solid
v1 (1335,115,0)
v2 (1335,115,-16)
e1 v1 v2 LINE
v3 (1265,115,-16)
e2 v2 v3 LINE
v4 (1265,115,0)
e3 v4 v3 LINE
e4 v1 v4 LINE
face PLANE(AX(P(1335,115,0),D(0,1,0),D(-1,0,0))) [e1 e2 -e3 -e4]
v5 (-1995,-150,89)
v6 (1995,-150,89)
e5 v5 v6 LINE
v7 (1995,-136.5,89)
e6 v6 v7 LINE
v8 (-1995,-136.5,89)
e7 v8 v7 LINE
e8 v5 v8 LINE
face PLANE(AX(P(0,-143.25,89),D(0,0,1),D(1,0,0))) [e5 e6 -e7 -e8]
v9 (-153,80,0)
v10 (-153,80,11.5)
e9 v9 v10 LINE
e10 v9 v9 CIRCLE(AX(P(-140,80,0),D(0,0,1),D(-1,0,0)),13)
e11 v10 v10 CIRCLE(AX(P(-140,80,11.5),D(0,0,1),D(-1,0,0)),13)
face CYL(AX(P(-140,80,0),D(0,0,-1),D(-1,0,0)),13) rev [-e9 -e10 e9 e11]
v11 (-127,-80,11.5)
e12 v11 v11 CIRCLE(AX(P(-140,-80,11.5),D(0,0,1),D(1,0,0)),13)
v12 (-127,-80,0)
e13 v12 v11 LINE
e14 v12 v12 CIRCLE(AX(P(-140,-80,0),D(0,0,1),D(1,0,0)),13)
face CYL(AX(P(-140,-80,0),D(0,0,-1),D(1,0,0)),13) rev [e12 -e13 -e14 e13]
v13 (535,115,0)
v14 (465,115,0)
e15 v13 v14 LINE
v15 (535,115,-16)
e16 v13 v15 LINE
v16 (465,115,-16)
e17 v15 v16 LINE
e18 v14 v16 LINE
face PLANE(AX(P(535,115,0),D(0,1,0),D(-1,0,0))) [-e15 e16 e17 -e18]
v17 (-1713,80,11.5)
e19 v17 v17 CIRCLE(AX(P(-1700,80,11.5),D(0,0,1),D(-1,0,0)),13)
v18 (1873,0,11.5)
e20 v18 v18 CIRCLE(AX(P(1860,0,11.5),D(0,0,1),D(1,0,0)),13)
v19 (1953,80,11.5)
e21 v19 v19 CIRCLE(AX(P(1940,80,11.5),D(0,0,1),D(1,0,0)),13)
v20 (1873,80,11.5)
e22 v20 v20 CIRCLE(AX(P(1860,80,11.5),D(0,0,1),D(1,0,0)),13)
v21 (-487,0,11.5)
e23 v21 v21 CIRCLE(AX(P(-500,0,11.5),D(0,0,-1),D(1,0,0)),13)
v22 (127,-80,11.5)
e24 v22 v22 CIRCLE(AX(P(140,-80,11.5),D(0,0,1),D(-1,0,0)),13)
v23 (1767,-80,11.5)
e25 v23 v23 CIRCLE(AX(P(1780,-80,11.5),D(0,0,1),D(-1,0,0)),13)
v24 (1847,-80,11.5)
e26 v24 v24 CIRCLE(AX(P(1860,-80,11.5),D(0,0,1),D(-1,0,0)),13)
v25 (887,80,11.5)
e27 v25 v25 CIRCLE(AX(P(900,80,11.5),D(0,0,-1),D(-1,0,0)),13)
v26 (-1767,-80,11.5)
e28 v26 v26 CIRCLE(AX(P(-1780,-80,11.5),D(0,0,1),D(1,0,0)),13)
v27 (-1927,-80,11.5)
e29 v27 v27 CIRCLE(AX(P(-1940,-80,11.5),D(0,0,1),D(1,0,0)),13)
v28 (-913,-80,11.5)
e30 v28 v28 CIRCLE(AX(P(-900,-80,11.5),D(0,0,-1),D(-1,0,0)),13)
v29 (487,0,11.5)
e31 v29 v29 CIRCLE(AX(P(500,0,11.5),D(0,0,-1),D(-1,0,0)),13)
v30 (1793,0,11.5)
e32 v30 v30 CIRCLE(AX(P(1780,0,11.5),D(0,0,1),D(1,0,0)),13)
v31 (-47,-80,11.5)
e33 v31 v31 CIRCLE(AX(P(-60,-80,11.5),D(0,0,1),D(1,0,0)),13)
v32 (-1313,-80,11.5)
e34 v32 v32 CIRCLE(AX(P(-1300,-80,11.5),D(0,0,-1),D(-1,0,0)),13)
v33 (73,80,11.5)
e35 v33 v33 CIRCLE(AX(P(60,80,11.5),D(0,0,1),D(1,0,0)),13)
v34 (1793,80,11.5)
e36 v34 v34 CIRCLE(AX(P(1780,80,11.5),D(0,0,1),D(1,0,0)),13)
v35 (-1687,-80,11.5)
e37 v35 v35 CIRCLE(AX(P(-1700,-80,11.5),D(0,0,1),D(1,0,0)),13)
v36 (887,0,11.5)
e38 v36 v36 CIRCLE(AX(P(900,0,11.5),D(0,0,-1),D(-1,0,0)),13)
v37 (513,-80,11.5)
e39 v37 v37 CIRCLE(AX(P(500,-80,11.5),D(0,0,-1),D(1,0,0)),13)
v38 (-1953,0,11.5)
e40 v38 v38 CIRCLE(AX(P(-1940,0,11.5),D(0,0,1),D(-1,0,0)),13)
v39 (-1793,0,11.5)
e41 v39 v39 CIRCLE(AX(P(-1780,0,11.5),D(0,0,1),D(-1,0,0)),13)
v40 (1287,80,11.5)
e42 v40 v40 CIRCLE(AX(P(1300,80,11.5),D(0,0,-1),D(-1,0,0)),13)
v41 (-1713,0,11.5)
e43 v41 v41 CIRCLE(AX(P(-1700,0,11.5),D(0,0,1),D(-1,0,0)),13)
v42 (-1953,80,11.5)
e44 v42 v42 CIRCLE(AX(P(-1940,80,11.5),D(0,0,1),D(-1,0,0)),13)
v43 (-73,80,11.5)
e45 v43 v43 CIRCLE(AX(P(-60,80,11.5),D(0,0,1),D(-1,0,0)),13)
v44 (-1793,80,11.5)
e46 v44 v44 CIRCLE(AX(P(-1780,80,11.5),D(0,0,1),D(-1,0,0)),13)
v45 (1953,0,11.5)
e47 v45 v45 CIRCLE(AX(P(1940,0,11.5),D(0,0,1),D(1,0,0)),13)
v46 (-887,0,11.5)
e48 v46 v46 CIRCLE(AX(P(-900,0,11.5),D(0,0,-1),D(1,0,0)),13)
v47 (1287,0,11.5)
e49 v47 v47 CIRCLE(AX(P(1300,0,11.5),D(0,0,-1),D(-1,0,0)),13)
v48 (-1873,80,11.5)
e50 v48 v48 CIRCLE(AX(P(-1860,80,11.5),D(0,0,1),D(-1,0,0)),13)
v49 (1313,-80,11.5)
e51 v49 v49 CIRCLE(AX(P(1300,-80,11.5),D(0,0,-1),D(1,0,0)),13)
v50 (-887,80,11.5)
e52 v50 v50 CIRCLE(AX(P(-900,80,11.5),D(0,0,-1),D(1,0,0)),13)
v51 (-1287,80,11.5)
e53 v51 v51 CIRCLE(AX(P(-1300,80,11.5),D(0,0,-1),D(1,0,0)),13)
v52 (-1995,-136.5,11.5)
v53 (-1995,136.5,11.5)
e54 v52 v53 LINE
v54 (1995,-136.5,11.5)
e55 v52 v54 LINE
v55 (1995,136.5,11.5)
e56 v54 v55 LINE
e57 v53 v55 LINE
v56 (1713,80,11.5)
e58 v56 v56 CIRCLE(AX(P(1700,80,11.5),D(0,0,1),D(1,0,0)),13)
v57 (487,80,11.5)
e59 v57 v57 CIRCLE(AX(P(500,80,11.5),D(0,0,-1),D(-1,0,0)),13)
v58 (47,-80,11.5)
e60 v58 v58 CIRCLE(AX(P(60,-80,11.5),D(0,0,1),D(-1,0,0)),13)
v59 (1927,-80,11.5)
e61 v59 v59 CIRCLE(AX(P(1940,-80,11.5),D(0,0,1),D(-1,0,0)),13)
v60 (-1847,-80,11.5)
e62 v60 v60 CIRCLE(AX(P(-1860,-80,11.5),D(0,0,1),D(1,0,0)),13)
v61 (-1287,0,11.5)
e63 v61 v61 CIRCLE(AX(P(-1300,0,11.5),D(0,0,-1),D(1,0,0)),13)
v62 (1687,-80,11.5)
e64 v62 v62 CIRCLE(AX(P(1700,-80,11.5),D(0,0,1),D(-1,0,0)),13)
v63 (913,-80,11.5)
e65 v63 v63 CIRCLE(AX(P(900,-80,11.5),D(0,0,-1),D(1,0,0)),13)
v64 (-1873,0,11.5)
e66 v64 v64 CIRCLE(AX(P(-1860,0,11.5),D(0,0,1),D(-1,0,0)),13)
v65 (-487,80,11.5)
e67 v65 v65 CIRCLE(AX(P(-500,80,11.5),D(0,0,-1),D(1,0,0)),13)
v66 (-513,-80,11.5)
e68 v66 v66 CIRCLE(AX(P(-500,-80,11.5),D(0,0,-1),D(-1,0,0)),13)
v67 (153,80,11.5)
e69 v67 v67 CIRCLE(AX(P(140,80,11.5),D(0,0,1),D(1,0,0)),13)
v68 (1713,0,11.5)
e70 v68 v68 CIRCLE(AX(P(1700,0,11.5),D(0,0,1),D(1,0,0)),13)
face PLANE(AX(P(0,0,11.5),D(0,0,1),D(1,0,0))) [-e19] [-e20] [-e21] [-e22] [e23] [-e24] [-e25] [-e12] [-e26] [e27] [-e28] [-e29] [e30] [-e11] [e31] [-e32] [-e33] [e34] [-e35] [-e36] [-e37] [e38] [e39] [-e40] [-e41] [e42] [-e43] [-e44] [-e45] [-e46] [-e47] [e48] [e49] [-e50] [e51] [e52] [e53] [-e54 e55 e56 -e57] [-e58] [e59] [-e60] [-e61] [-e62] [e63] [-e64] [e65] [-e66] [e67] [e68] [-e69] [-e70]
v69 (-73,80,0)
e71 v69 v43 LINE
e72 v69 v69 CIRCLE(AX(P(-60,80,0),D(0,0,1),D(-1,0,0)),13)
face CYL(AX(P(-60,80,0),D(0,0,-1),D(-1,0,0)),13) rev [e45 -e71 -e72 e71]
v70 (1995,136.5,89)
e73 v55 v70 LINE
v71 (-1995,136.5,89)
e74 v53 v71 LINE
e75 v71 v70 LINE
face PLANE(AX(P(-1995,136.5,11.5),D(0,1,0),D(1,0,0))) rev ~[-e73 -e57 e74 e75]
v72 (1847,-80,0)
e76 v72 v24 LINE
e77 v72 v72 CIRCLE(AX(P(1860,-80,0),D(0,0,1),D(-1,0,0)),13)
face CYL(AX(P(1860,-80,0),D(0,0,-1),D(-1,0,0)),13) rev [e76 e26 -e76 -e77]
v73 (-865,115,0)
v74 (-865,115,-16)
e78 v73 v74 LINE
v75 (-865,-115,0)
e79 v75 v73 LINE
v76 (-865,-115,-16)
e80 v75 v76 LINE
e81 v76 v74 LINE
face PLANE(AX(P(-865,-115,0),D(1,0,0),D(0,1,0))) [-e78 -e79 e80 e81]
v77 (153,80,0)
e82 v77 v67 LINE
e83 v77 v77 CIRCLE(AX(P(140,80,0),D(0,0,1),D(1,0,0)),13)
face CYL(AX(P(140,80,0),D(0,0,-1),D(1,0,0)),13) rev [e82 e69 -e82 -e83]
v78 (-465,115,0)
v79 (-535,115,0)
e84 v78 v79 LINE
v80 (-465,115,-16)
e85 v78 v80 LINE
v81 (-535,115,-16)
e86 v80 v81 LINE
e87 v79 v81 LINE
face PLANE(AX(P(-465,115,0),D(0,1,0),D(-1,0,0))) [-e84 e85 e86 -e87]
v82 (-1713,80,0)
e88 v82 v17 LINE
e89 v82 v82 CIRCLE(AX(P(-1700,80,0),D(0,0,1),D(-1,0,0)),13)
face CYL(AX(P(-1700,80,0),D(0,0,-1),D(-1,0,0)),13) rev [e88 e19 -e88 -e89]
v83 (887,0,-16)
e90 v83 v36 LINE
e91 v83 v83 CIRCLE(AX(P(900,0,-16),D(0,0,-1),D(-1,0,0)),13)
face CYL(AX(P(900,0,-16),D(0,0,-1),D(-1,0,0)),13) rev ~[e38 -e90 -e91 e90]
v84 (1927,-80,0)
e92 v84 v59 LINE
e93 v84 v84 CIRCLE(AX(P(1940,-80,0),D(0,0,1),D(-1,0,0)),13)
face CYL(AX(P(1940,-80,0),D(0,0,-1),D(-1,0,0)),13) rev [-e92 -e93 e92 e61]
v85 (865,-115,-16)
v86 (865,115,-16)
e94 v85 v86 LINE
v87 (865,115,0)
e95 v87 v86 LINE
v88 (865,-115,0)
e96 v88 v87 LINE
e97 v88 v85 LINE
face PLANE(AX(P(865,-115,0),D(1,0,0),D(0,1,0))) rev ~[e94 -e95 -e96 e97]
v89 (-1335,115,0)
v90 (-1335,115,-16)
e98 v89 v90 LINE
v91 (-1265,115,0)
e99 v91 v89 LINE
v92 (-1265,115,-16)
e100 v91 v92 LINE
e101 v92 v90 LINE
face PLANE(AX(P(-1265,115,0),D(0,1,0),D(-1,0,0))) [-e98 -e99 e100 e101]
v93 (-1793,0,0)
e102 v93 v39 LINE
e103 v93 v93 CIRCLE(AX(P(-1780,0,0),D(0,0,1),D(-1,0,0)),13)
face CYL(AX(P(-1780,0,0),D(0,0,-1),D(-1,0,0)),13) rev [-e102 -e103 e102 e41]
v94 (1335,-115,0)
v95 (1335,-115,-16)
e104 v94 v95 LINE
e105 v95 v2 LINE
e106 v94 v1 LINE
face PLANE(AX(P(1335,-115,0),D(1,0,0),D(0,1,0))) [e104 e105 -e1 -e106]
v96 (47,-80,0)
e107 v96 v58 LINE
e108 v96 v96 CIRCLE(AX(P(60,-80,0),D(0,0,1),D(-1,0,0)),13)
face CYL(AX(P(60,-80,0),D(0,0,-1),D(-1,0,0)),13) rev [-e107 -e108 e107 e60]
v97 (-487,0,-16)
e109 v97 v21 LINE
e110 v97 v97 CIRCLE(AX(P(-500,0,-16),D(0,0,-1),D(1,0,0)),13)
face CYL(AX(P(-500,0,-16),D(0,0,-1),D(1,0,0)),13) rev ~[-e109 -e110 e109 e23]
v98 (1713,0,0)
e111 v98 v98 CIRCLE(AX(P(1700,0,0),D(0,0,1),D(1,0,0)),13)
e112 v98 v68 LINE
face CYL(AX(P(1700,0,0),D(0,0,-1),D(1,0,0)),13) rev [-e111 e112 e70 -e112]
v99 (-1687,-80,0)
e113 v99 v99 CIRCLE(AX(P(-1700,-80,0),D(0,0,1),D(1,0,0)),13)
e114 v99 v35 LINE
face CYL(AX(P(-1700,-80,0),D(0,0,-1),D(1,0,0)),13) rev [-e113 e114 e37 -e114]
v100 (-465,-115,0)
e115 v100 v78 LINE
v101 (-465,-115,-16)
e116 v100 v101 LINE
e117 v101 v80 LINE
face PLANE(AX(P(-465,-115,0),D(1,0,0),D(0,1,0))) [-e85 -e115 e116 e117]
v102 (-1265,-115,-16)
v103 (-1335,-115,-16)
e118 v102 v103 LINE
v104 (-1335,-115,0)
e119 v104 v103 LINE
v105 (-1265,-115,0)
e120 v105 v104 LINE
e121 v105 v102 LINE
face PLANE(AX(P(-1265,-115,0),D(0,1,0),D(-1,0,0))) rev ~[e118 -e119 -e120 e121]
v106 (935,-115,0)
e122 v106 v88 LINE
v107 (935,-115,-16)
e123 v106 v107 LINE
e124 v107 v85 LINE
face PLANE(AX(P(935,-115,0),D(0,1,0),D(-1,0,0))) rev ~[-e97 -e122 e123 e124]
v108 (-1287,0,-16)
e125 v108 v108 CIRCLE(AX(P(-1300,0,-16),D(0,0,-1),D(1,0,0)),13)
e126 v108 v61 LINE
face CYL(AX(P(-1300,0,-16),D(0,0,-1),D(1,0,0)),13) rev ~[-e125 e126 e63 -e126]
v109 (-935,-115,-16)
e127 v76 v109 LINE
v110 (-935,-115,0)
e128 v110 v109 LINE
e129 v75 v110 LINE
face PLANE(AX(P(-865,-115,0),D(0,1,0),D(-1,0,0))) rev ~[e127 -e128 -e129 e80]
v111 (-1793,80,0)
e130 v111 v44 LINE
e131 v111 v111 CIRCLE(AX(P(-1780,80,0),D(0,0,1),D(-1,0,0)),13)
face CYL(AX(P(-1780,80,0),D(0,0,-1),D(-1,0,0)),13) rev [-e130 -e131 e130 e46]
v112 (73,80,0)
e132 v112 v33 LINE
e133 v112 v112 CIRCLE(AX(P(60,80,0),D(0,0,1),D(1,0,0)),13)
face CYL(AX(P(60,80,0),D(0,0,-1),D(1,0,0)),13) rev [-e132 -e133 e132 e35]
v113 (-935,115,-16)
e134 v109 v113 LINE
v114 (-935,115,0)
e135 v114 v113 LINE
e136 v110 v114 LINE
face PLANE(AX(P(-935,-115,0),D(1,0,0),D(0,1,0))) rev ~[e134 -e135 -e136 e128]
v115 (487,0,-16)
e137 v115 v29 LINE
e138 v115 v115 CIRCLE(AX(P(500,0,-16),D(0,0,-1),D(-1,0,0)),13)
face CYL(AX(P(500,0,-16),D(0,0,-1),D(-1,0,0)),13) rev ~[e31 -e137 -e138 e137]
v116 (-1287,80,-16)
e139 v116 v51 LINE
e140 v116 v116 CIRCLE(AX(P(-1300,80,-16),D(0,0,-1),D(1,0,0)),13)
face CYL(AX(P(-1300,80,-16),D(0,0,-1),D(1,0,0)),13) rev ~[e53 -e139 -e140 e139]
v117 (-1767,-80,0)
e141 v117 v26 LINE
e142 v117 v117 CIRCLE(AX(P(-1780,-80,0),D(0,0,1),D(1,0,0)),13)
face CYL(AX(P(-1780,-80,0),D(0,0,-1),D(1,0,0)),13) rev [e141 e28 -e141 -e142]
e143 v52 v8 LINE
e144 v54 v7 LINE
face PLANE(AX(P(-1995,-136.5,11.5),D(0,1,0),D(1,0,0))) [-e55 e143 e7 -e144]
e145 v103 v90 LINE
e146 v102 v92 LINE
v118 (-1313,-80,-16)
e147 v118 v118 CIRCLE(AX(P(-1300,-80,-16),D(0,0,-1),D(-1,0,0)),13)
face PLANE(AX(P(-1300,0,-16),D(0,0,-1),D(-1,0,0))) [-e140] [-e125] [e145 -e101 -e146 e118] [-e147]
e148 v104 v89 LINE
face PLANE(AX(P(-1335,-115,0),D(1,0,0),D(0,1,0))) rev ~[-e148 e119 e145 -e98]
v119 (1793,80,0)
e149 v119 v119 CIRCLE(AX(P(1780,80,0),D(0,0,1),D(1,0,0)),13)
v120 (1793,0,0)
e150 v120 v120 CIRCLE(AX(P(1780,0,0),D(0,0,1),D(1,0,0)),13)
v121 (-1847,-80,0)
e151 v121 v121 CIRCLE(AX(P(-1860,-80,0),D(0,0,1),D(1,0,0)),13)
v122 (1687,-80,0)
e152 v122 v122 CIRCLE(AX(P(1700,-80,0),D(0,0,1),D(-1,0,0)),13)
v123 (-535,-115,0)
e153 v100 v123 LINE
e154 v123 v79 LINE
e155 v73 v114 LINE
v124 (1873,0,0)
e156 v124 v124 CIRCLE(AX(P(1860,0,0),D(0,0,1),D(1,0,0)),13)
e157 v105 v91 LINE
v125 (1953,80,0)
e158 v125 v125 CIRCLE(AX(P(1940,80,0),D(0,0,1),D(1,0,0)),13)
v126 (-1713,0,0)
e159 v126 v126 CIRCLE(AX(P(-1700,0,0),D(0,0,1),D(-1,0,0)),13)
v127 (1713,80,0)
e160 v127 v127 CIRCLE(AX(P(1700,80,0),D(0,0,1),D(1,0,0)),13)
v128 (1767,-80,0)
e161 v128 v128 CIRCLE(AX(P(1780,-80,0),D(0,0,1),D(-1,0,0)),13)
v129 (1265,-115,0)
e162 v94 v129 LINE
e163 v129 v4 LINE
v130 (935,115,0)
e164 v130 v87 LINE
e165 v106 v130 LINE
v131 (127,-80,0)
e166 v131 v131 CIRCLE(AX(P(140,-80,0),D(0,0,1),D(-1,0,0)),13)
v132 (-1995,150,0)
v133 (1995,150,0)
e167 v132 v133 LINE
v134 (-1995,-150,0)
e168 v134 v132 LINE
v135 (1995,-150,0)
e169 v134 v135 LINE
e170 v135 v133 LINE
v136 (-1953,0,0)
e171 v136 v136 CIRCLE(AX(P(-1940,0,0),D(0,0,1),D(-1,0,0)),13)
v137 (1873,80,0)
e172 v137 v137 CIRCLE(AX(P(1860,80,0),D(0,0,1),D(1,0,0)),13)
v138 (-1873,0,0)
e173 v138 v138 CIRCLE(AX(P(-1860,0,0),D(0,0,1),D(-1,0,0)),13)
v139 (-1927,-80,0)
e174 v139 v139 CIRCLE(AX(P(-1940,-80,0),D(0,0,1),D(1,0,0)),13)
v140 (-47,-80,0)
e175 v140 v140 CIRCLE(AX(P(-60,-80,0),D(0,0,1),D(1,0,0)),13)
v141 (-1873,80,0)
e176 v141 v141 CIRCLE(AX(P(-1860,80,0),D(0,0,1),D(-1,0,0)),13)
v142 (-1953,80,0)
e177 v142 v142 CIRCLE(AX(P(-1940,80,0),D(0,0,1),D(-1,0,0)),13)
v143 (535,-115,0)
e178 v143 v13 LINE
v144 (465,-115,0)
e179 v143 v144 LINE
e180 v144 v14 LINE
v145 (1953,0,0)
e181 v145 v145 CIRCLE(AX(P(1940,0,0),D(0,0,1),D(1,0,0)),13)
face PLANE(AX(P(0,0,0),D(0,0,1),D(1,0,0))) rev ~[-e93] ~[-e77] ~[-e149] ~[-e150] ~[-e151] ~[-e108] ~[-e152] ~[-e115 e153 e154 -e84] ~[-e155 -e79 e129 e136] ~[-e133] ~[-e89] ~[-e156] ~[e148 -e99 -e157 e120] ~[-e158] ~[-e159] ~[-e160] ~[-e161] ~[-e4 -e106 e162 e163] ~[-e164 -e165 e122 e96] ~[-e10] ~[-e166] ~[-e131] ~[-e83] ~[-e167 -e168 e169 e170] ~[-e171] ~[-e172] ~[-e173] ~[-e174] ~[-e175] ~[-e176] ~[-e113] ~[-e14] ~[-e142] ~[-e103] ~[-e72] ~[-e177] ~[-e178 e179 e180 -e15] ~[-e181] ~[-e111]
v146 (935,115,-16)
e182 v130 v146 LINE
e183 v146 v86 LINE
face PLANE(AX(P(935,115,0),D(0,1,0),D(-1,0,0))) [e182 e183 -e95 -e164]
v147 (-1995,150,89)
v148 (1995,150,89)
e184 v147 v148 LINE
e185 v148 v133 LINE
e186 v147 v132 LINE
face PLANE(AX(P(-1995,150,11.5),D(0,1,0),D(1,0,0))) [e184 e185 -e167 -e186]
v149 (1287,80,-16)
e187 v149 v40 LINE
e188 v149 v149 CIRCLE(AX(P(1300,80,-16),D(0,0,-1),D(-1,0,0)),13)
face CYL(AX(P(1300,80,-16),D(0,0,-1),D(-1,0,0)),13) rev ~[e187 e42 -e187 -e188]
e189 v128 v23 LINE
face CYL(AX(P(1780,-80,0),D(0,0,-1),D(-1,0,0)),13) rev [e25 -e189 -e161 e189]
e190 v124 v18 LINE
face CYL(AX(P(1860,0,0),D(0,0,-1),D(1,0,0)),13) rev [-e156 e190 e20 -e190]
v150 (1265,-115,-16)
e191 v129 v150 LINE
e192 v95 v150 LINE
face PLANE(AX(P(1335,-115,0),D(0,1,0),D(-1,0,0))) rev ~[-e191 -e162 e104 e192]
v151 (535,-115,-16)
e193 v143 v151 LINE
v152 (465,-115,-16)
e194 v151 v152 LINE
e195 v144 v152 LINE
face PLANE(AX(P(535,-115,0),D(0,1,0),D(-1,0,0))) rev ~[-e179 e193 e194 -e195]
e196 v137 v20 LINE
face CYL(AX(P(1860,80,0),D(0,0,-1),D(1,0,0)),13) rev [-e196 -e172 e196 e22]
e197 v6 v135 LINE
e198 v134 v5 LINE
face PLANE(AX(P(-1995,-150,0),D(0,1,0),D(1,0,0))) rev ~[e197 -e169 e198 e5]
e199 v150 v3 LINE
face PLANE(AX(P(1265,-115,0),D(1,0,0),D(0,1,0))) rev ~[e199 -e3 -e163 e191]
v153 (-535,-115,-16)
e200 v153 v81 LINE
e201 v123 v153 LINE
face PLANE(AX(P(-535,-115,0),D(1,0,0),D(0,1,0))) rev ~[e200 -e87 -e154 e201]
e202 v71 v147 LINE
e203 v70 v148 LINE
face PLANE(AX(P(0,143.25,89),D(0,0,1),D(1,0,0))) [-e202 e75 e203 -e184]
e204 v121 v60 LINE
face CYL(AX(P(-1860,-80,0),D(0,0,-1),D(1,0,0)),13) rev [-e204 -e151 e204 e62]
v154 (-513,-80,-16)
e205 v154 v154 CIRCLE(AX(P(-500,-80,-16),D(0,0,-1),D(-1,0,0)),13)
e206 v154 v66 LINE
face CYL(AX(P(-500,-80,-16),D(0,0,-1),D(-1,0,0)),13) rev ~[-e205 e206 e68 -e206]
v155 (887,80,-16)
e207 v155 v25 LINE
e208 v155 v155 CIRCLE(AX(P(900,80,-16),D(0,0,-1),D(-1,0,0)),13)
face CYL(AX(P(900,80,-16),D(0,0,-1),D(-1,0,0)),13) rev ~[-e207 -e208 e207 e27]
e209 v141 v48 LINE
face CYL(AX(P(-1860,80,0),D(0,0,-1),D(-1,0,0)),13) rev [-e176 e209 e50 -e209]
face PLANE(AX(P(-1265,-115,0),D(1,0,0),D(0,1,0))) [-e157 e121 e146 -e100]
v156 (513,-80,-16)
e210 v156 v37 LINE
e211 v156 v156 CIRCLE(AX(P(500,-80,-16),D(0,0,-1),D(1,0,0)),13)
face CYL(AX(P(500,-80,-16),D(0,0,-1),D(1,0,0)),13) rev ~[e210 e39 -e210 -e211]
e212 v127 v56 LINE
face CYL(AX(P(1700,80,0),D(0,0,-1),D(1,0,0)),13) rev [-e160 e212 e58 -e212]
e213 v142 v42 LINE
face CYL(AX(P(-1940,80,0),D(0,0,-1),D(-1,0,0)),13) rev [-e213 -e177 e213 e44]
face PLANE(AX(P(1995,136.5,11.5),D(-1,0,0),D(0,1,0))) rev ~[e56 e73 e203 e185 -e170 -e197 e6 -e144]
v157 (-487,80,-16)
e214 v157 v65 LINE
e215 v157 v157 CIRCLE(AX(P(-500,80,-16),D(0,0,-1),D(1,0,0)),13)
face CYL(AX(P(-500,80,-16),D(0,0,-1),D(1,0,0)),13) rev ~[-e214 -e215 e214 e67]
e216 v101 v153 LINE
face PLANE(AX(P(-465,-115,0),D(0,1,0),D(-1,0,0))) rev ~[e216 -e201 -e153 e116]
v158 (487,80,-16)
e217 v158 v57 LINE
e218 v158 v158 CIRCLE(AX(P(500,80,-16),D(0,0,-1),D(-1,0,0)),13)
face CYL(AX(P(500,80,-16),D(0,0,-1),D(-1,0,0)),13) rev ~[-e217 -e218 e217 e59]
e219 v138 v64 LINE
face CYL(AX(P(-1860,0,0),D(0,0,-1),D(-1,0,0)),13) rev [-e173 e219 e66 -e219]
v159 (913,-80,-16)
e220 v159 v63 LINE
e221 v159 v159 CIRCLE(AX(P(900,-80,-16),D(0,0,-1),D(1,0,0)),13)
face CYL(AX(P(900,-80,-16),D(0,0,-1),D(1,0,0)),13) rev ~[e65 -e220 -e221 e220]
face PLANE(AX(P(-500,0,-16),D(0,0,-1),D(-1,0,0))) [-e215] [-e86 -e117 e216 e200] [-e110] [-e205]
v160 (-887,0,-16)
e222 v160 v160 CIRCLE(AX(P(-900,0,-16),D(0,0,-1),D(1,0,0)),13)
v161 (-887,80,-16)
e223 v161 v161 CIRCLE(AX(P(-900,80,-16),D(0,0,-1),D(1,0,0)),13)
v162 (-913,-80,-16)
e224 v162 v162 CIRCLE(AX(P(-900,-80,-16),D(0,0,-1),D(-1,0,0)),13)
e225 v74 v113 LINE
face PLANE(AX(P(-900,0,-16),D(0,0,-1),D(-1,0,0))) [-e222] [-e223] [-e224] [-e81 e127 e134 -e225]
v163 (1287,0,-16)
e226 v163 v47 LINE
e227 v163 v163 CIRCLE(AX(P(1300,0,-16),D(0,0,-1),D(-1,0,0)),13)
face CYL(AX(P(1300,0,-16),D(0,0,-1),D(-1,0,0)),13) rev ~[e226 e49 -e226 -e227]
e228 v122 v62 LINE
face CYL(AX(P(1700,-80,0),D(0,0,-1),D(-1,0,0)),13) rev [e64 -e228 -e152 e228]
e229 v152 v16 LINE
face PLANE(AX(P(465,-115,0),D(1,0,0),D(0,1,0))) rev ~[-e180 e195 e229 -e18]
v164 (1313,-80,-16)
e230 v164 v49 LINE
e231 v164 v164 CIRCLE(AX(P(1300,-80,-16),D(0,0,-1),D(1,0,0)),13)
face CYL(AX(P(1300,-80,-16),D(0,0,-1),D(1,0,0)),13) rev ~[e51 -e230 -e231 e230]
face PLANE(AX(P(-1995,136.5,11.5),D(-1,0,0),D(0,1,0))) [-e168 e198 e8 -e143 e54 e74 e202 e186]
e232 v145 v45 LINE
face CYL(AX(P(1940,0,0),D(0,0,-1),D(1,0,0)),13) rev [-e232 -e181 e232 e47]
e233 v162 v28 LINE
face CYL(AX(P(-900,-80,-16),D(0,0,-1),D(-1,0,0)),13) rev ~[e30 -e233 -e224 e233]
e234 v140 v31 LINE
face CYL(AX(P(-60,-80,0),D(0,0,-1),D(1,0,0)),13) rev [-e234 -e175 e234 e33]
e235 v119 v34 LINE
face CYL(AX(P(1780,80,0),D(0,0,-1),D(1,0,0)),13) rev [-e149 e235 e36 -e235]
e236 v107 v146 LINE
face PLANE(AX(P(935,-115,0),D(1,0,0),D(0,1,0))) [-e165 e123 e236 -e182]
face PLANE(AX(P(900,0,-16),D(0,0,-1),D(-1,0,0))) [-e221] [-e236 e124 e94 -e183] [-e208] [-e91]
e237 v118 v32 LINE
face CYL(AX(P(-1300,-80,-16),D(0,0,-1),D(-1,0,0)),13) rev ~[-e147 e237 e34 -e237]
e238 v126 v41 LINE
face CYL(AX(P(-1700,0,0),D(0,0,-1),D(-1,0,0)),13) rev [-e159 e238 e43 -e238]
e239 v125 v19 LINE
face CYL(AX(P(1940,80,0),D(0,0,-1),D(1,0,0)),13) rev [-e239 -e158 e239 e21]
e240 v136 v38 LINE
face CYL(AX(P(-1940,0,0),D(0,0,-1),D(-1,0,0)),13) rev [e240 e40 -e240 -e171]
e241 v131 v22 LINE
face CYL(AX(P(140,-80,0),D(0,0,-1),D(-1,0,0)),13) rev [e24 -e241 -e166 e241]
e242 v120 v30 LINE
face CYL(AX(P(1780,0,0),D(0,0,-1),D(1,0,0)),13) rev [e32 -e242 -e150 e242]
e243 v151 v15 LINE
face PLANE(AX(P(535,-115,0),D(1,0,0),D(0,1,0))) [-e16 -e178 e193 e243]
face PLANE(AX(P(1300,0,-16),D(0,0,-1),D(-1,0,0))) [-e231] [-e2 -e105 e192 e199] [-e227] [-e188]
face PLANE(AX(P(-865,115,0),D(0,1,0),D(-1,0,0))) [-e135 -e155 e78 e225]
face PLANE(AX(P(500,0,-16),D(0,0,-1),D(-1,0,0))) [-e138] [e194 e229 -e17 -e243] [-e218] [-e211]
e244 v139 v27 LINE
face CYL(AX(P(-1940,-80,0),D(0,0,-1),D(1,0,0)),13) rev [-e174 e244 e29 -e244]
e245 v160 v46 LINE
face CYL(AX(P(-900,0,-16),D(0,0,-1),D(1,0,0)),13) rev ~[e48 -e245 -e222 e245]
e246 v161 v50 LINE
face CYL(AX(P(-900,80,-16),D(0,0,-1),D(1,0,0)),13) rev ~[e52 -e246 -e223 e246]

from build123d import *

# Parameters (mm, degrees)
SKETCH_1_W          = 3990
SKETCH_1_H          = 300
SKETCH_1_R          = 13
EXTRUDE_756_DEPTH   = 11.5
SKETCH_2_W          = 3990
SKETCH_2_H          = 13.5
EXTRUDE_1_DEPTH     = 77.5
SKETCH_3_W          = 70
SKETCH_3_H          = 230
EXTRUDE_2_DEPTH     = 16
SKETCH_4_R          = 13
CUT_EXTRUDE_1_DEPTH = 2004.38463606


with BuildPart() as part:
    # 草图1 → Extrude 756 (new body)
    with BuildSketch(Plane.XY):
        Rectangle(SKETCH_1_W, SKETCH_1_H)
        with Locations((1940, 0)):
            Circle(SKETCH_1_R, mode=Mode.SUBTRACT)
        with Locations((1860, 0)):
            Circle(SKETCH_1_R, mode=Mode.SUBTRACT)
        with Locations((1780, 0)):
            Circle(SKETCH_1_R, mode=Mode.SUBTRACT)
        with Locations((1700, 0)):
            Circle(SKETCH_1_R, mode=Mode.SUBTRACT)
        with Locations((1700, 80)):
            Circle(SKETCH_1_R, mode=Mode.SUBTRACT)
        with Locations((1780, 80)):
            Circle(SKETCH_1_R, mode=Mode.SUBTRACT)
        with Locations((1860, 80)):
            Circle(SKETCH_1_R, mode=Mode.SUBTRACT)
        with Locations((1940, 80)):
            Circle(SKETCH_1_R, mode=Mode.SUBTRACT)
        with Locations(Location((1940, -80, 0), (0, 0, 180))):
            Circle(SKETCH_1_R, mode=Mode.SUBTRACT)
        with Locations(Location((1860, -80, 0), (0, 0, 180))):
            Circle(SKETCH_1_R, mode=Mode.SUBTRACT)
        with Locations(Location((1780, -80, 0), (0, 0, 180))):
            Circle(SKETCH_1_R, mode=Mode.SUBTRACT)
        with Locations(Location((1700, -80, 0), (0, 0, 180))):
            Circle(SKETCH_1_R, mode=Mode.SUBTRACT)
        with Locations((-1700, -80)):
            Circle(SKETCH_1_R, mode=Mode.SUBTRACT)
        with Locations((-1780, -80)):
            Circle(SKETCH_1_R, mode=Mode.SUBTRACT)
        with Locations((-1860, -80)):
            Circle(SKETCH_1_R, mode=Mode.SUBTRACT)
        with Locations((-1940, -80)):
            Circle(SKETCH_1_R, mode=Mode.SUBTRACT)
        with Locations(Location((-1940, 80, 0), (0, 0, 180))):
            Circle(SKETCH_1_R, mode=Mode.SUBTRACT)
        with Locations(Location((-1860, 80, 0), (0, 0, 180))):
            Circle(SKETCH_1_R, mode=Mode.SUBTRACT)
        with Locations(Location((-1780, 80, 0), (0, 0, 180))):
            Circle(SKETCH_1_R, mode=Mode.SUBTRACT)
        with Locations(Location((-1700, 80, 0), (0, 0, 180))):
            Circle(SKETCH_1_R, mode=Mode.SUBTRACT)
        with Locations(Location((-1700, 0, 0), (0, 0, 180))):
            Circle(SKETCH_1_R, mode=Mode.SUBTRACT)
        with Locations(Location((-1780, 0, 0), (0, 0, 180))):
            Circle(SKETCH_1_R, mode=Mode.SUBTRACT)
        with Locations(Location((-1860, 0, 0), (0, 0, 180))):
            Circle(SKETCH_1_R, mode=Mode.SUBTRACT)
        with Locations(Location((-1940, 0, 0), (0, 0, 180))):
            Circle(SKETCH_1_R, mode=Mode.SUBTRACT)
        with Locations((60, 80)):
            Circle(SKETCH_1_R, mode=Mode.SUBTRACT)
        with Locations((140, 80)):
            Circle(SKETCH_1_R, mode=Mode.SUBTRACT)
        with Locations(Location((140, -80, 0), (0, 0, 180))):
            Circle(SKETCH_1_R, mode=Mode.SUBTRACT)
        with Locations(Location((60, -80, 0), (0, 0, 180))):
            Circle(SKETCH_1_R, mode=Mode.SUBTRACT)
        with Locations((-60, -80)):
            Circle(SKETCH_1_R, mode=Mode.SUBTRACT)
        with Locations((-140, -80)):
            Circle(SKETCH_1_R, mode=Mode.SUBTRACT)
        with Locations(Location((-140, 80, 0), (0, 0, 180))):
            Circle(SKETCH_1_R, mode=Mode.SUBTRACT)
        with Locations(Location((-60, 80, 0), (0, 0, 180))):
            Circle(SKETCH_1_R, mode=Mode.SUBTRACT)
    extrude(amount=EXTRUDE_756_DEPTH)

    # 草图2 → 凸台-拉伸1 (add)
    with BuildSketch(Plane.XY.offset(11.5)):
        with Locations((0, 143.25)):
            Rectangle(SKETCH_2_W, SKETCH_2_H)
        with Locations((0, -143.25)):
            Rectangle(SKETCH_2_W, SKETCH_2_H)
    extrude(amount=EXTRUDE_1_DEPTH)

    # 草图3 → 凸台-拉伸2 (add)
    with BuildSketch(Plane(origin=(0, 0, 0), x_dir=(-1, 0, 0), z_dir=(0, 0, -1))):
        with Locations((-1300, 0)):
            Rectangle(SKETCH_3_W, SKETCH_3_H)
        with Locations((-900, 0)):
            Rectangle(SKETCH_3_W, SKETCH_3_H)
        with Locations((-500, 0)):
            Rectangle(SKETCH_3_W, SKETCH_3_H)
        with Locations((500, 0)):
            Rectangle(SKETCH_3_W, SKETCH_3_H)
        with Locations((900, 0)):
            Rectangle(SKETCH_3_W, SKETCH_3_H)
        with Locations((1300, 0)):
            Rectangle(SKETCH_3_W, SKETCH_3_H)
    extrude(amount=EXTRUDE_2_DEPTH)

    # 草图4 → 切除-拉伸1 (cut, through all)
    with BuildSketch(Plane(origin=(0, 0, -16), x_dir=(-1, 0, 0), z_dir=(0, 0, -1))):
        with Locations((-1300, 0)):
            Circle(SKETCH_4_R)
        with Locations((-1300, 80)):
            Circle(SKETCH_4_R)
        with Locations((-900, 80)):
            Circle(SKETCH_4_R)
        with Locations((-900, 0)):
            Circle(SKETCH_4_R)
        with Locations((-500, 80)):
            Circle(SKETCH_4_R)
        with Locations((-500, 0)):
            Circle(SKETCH_4_R)
        with Locations(Location((-500, -80, 0), (0, 0, 180))):
            Circle(SKETCH_4_R)
        with Locations(Location((-900, -80, 0), (0, 0, 180))):
            Circle(SKETCH_4_R)
        with Locations(Location((-1300, -80, 0), (0, 0, 180))):
            Circle(SKETCH_4_R)
        with Locations((1300, -80)):
            Circle(SKETCH_4_R)
        with Locations((900, -80)):
            Circle(SKETCH_4_R)
        with Locations((500, -80)):
            Circle(SKETCH_4_R)
        with Locations(Location((500, 0, 0), (0, 0, 180))):
            Circle(SKETCH_4_R)
        with Locations(Location((500, 80, 0), (0, 0, 180))):
            Circle(SKETCH_4_R)
        with Locations(Location((900, 0, 0), (0, 0, 180))):
            Circle(SKETCH_4_R)
        with Locations(Location((900, 80, 0), (0, 0, 180))):
            Circle(SKETCH_4_R)
        with Locations(Location((1300, 80, 0), (0, 0, 180))):
            Circle(SKETCH_4_R)
        with Locations(Location((1300, 0, 0), (0, 0, 180))):
            Circle(SKETCH_4_R)
    extrude(amount=-CUT_EXTRUDE_1_DEPTH, mode=Mode.SUBTRACT)


solid = part.part
